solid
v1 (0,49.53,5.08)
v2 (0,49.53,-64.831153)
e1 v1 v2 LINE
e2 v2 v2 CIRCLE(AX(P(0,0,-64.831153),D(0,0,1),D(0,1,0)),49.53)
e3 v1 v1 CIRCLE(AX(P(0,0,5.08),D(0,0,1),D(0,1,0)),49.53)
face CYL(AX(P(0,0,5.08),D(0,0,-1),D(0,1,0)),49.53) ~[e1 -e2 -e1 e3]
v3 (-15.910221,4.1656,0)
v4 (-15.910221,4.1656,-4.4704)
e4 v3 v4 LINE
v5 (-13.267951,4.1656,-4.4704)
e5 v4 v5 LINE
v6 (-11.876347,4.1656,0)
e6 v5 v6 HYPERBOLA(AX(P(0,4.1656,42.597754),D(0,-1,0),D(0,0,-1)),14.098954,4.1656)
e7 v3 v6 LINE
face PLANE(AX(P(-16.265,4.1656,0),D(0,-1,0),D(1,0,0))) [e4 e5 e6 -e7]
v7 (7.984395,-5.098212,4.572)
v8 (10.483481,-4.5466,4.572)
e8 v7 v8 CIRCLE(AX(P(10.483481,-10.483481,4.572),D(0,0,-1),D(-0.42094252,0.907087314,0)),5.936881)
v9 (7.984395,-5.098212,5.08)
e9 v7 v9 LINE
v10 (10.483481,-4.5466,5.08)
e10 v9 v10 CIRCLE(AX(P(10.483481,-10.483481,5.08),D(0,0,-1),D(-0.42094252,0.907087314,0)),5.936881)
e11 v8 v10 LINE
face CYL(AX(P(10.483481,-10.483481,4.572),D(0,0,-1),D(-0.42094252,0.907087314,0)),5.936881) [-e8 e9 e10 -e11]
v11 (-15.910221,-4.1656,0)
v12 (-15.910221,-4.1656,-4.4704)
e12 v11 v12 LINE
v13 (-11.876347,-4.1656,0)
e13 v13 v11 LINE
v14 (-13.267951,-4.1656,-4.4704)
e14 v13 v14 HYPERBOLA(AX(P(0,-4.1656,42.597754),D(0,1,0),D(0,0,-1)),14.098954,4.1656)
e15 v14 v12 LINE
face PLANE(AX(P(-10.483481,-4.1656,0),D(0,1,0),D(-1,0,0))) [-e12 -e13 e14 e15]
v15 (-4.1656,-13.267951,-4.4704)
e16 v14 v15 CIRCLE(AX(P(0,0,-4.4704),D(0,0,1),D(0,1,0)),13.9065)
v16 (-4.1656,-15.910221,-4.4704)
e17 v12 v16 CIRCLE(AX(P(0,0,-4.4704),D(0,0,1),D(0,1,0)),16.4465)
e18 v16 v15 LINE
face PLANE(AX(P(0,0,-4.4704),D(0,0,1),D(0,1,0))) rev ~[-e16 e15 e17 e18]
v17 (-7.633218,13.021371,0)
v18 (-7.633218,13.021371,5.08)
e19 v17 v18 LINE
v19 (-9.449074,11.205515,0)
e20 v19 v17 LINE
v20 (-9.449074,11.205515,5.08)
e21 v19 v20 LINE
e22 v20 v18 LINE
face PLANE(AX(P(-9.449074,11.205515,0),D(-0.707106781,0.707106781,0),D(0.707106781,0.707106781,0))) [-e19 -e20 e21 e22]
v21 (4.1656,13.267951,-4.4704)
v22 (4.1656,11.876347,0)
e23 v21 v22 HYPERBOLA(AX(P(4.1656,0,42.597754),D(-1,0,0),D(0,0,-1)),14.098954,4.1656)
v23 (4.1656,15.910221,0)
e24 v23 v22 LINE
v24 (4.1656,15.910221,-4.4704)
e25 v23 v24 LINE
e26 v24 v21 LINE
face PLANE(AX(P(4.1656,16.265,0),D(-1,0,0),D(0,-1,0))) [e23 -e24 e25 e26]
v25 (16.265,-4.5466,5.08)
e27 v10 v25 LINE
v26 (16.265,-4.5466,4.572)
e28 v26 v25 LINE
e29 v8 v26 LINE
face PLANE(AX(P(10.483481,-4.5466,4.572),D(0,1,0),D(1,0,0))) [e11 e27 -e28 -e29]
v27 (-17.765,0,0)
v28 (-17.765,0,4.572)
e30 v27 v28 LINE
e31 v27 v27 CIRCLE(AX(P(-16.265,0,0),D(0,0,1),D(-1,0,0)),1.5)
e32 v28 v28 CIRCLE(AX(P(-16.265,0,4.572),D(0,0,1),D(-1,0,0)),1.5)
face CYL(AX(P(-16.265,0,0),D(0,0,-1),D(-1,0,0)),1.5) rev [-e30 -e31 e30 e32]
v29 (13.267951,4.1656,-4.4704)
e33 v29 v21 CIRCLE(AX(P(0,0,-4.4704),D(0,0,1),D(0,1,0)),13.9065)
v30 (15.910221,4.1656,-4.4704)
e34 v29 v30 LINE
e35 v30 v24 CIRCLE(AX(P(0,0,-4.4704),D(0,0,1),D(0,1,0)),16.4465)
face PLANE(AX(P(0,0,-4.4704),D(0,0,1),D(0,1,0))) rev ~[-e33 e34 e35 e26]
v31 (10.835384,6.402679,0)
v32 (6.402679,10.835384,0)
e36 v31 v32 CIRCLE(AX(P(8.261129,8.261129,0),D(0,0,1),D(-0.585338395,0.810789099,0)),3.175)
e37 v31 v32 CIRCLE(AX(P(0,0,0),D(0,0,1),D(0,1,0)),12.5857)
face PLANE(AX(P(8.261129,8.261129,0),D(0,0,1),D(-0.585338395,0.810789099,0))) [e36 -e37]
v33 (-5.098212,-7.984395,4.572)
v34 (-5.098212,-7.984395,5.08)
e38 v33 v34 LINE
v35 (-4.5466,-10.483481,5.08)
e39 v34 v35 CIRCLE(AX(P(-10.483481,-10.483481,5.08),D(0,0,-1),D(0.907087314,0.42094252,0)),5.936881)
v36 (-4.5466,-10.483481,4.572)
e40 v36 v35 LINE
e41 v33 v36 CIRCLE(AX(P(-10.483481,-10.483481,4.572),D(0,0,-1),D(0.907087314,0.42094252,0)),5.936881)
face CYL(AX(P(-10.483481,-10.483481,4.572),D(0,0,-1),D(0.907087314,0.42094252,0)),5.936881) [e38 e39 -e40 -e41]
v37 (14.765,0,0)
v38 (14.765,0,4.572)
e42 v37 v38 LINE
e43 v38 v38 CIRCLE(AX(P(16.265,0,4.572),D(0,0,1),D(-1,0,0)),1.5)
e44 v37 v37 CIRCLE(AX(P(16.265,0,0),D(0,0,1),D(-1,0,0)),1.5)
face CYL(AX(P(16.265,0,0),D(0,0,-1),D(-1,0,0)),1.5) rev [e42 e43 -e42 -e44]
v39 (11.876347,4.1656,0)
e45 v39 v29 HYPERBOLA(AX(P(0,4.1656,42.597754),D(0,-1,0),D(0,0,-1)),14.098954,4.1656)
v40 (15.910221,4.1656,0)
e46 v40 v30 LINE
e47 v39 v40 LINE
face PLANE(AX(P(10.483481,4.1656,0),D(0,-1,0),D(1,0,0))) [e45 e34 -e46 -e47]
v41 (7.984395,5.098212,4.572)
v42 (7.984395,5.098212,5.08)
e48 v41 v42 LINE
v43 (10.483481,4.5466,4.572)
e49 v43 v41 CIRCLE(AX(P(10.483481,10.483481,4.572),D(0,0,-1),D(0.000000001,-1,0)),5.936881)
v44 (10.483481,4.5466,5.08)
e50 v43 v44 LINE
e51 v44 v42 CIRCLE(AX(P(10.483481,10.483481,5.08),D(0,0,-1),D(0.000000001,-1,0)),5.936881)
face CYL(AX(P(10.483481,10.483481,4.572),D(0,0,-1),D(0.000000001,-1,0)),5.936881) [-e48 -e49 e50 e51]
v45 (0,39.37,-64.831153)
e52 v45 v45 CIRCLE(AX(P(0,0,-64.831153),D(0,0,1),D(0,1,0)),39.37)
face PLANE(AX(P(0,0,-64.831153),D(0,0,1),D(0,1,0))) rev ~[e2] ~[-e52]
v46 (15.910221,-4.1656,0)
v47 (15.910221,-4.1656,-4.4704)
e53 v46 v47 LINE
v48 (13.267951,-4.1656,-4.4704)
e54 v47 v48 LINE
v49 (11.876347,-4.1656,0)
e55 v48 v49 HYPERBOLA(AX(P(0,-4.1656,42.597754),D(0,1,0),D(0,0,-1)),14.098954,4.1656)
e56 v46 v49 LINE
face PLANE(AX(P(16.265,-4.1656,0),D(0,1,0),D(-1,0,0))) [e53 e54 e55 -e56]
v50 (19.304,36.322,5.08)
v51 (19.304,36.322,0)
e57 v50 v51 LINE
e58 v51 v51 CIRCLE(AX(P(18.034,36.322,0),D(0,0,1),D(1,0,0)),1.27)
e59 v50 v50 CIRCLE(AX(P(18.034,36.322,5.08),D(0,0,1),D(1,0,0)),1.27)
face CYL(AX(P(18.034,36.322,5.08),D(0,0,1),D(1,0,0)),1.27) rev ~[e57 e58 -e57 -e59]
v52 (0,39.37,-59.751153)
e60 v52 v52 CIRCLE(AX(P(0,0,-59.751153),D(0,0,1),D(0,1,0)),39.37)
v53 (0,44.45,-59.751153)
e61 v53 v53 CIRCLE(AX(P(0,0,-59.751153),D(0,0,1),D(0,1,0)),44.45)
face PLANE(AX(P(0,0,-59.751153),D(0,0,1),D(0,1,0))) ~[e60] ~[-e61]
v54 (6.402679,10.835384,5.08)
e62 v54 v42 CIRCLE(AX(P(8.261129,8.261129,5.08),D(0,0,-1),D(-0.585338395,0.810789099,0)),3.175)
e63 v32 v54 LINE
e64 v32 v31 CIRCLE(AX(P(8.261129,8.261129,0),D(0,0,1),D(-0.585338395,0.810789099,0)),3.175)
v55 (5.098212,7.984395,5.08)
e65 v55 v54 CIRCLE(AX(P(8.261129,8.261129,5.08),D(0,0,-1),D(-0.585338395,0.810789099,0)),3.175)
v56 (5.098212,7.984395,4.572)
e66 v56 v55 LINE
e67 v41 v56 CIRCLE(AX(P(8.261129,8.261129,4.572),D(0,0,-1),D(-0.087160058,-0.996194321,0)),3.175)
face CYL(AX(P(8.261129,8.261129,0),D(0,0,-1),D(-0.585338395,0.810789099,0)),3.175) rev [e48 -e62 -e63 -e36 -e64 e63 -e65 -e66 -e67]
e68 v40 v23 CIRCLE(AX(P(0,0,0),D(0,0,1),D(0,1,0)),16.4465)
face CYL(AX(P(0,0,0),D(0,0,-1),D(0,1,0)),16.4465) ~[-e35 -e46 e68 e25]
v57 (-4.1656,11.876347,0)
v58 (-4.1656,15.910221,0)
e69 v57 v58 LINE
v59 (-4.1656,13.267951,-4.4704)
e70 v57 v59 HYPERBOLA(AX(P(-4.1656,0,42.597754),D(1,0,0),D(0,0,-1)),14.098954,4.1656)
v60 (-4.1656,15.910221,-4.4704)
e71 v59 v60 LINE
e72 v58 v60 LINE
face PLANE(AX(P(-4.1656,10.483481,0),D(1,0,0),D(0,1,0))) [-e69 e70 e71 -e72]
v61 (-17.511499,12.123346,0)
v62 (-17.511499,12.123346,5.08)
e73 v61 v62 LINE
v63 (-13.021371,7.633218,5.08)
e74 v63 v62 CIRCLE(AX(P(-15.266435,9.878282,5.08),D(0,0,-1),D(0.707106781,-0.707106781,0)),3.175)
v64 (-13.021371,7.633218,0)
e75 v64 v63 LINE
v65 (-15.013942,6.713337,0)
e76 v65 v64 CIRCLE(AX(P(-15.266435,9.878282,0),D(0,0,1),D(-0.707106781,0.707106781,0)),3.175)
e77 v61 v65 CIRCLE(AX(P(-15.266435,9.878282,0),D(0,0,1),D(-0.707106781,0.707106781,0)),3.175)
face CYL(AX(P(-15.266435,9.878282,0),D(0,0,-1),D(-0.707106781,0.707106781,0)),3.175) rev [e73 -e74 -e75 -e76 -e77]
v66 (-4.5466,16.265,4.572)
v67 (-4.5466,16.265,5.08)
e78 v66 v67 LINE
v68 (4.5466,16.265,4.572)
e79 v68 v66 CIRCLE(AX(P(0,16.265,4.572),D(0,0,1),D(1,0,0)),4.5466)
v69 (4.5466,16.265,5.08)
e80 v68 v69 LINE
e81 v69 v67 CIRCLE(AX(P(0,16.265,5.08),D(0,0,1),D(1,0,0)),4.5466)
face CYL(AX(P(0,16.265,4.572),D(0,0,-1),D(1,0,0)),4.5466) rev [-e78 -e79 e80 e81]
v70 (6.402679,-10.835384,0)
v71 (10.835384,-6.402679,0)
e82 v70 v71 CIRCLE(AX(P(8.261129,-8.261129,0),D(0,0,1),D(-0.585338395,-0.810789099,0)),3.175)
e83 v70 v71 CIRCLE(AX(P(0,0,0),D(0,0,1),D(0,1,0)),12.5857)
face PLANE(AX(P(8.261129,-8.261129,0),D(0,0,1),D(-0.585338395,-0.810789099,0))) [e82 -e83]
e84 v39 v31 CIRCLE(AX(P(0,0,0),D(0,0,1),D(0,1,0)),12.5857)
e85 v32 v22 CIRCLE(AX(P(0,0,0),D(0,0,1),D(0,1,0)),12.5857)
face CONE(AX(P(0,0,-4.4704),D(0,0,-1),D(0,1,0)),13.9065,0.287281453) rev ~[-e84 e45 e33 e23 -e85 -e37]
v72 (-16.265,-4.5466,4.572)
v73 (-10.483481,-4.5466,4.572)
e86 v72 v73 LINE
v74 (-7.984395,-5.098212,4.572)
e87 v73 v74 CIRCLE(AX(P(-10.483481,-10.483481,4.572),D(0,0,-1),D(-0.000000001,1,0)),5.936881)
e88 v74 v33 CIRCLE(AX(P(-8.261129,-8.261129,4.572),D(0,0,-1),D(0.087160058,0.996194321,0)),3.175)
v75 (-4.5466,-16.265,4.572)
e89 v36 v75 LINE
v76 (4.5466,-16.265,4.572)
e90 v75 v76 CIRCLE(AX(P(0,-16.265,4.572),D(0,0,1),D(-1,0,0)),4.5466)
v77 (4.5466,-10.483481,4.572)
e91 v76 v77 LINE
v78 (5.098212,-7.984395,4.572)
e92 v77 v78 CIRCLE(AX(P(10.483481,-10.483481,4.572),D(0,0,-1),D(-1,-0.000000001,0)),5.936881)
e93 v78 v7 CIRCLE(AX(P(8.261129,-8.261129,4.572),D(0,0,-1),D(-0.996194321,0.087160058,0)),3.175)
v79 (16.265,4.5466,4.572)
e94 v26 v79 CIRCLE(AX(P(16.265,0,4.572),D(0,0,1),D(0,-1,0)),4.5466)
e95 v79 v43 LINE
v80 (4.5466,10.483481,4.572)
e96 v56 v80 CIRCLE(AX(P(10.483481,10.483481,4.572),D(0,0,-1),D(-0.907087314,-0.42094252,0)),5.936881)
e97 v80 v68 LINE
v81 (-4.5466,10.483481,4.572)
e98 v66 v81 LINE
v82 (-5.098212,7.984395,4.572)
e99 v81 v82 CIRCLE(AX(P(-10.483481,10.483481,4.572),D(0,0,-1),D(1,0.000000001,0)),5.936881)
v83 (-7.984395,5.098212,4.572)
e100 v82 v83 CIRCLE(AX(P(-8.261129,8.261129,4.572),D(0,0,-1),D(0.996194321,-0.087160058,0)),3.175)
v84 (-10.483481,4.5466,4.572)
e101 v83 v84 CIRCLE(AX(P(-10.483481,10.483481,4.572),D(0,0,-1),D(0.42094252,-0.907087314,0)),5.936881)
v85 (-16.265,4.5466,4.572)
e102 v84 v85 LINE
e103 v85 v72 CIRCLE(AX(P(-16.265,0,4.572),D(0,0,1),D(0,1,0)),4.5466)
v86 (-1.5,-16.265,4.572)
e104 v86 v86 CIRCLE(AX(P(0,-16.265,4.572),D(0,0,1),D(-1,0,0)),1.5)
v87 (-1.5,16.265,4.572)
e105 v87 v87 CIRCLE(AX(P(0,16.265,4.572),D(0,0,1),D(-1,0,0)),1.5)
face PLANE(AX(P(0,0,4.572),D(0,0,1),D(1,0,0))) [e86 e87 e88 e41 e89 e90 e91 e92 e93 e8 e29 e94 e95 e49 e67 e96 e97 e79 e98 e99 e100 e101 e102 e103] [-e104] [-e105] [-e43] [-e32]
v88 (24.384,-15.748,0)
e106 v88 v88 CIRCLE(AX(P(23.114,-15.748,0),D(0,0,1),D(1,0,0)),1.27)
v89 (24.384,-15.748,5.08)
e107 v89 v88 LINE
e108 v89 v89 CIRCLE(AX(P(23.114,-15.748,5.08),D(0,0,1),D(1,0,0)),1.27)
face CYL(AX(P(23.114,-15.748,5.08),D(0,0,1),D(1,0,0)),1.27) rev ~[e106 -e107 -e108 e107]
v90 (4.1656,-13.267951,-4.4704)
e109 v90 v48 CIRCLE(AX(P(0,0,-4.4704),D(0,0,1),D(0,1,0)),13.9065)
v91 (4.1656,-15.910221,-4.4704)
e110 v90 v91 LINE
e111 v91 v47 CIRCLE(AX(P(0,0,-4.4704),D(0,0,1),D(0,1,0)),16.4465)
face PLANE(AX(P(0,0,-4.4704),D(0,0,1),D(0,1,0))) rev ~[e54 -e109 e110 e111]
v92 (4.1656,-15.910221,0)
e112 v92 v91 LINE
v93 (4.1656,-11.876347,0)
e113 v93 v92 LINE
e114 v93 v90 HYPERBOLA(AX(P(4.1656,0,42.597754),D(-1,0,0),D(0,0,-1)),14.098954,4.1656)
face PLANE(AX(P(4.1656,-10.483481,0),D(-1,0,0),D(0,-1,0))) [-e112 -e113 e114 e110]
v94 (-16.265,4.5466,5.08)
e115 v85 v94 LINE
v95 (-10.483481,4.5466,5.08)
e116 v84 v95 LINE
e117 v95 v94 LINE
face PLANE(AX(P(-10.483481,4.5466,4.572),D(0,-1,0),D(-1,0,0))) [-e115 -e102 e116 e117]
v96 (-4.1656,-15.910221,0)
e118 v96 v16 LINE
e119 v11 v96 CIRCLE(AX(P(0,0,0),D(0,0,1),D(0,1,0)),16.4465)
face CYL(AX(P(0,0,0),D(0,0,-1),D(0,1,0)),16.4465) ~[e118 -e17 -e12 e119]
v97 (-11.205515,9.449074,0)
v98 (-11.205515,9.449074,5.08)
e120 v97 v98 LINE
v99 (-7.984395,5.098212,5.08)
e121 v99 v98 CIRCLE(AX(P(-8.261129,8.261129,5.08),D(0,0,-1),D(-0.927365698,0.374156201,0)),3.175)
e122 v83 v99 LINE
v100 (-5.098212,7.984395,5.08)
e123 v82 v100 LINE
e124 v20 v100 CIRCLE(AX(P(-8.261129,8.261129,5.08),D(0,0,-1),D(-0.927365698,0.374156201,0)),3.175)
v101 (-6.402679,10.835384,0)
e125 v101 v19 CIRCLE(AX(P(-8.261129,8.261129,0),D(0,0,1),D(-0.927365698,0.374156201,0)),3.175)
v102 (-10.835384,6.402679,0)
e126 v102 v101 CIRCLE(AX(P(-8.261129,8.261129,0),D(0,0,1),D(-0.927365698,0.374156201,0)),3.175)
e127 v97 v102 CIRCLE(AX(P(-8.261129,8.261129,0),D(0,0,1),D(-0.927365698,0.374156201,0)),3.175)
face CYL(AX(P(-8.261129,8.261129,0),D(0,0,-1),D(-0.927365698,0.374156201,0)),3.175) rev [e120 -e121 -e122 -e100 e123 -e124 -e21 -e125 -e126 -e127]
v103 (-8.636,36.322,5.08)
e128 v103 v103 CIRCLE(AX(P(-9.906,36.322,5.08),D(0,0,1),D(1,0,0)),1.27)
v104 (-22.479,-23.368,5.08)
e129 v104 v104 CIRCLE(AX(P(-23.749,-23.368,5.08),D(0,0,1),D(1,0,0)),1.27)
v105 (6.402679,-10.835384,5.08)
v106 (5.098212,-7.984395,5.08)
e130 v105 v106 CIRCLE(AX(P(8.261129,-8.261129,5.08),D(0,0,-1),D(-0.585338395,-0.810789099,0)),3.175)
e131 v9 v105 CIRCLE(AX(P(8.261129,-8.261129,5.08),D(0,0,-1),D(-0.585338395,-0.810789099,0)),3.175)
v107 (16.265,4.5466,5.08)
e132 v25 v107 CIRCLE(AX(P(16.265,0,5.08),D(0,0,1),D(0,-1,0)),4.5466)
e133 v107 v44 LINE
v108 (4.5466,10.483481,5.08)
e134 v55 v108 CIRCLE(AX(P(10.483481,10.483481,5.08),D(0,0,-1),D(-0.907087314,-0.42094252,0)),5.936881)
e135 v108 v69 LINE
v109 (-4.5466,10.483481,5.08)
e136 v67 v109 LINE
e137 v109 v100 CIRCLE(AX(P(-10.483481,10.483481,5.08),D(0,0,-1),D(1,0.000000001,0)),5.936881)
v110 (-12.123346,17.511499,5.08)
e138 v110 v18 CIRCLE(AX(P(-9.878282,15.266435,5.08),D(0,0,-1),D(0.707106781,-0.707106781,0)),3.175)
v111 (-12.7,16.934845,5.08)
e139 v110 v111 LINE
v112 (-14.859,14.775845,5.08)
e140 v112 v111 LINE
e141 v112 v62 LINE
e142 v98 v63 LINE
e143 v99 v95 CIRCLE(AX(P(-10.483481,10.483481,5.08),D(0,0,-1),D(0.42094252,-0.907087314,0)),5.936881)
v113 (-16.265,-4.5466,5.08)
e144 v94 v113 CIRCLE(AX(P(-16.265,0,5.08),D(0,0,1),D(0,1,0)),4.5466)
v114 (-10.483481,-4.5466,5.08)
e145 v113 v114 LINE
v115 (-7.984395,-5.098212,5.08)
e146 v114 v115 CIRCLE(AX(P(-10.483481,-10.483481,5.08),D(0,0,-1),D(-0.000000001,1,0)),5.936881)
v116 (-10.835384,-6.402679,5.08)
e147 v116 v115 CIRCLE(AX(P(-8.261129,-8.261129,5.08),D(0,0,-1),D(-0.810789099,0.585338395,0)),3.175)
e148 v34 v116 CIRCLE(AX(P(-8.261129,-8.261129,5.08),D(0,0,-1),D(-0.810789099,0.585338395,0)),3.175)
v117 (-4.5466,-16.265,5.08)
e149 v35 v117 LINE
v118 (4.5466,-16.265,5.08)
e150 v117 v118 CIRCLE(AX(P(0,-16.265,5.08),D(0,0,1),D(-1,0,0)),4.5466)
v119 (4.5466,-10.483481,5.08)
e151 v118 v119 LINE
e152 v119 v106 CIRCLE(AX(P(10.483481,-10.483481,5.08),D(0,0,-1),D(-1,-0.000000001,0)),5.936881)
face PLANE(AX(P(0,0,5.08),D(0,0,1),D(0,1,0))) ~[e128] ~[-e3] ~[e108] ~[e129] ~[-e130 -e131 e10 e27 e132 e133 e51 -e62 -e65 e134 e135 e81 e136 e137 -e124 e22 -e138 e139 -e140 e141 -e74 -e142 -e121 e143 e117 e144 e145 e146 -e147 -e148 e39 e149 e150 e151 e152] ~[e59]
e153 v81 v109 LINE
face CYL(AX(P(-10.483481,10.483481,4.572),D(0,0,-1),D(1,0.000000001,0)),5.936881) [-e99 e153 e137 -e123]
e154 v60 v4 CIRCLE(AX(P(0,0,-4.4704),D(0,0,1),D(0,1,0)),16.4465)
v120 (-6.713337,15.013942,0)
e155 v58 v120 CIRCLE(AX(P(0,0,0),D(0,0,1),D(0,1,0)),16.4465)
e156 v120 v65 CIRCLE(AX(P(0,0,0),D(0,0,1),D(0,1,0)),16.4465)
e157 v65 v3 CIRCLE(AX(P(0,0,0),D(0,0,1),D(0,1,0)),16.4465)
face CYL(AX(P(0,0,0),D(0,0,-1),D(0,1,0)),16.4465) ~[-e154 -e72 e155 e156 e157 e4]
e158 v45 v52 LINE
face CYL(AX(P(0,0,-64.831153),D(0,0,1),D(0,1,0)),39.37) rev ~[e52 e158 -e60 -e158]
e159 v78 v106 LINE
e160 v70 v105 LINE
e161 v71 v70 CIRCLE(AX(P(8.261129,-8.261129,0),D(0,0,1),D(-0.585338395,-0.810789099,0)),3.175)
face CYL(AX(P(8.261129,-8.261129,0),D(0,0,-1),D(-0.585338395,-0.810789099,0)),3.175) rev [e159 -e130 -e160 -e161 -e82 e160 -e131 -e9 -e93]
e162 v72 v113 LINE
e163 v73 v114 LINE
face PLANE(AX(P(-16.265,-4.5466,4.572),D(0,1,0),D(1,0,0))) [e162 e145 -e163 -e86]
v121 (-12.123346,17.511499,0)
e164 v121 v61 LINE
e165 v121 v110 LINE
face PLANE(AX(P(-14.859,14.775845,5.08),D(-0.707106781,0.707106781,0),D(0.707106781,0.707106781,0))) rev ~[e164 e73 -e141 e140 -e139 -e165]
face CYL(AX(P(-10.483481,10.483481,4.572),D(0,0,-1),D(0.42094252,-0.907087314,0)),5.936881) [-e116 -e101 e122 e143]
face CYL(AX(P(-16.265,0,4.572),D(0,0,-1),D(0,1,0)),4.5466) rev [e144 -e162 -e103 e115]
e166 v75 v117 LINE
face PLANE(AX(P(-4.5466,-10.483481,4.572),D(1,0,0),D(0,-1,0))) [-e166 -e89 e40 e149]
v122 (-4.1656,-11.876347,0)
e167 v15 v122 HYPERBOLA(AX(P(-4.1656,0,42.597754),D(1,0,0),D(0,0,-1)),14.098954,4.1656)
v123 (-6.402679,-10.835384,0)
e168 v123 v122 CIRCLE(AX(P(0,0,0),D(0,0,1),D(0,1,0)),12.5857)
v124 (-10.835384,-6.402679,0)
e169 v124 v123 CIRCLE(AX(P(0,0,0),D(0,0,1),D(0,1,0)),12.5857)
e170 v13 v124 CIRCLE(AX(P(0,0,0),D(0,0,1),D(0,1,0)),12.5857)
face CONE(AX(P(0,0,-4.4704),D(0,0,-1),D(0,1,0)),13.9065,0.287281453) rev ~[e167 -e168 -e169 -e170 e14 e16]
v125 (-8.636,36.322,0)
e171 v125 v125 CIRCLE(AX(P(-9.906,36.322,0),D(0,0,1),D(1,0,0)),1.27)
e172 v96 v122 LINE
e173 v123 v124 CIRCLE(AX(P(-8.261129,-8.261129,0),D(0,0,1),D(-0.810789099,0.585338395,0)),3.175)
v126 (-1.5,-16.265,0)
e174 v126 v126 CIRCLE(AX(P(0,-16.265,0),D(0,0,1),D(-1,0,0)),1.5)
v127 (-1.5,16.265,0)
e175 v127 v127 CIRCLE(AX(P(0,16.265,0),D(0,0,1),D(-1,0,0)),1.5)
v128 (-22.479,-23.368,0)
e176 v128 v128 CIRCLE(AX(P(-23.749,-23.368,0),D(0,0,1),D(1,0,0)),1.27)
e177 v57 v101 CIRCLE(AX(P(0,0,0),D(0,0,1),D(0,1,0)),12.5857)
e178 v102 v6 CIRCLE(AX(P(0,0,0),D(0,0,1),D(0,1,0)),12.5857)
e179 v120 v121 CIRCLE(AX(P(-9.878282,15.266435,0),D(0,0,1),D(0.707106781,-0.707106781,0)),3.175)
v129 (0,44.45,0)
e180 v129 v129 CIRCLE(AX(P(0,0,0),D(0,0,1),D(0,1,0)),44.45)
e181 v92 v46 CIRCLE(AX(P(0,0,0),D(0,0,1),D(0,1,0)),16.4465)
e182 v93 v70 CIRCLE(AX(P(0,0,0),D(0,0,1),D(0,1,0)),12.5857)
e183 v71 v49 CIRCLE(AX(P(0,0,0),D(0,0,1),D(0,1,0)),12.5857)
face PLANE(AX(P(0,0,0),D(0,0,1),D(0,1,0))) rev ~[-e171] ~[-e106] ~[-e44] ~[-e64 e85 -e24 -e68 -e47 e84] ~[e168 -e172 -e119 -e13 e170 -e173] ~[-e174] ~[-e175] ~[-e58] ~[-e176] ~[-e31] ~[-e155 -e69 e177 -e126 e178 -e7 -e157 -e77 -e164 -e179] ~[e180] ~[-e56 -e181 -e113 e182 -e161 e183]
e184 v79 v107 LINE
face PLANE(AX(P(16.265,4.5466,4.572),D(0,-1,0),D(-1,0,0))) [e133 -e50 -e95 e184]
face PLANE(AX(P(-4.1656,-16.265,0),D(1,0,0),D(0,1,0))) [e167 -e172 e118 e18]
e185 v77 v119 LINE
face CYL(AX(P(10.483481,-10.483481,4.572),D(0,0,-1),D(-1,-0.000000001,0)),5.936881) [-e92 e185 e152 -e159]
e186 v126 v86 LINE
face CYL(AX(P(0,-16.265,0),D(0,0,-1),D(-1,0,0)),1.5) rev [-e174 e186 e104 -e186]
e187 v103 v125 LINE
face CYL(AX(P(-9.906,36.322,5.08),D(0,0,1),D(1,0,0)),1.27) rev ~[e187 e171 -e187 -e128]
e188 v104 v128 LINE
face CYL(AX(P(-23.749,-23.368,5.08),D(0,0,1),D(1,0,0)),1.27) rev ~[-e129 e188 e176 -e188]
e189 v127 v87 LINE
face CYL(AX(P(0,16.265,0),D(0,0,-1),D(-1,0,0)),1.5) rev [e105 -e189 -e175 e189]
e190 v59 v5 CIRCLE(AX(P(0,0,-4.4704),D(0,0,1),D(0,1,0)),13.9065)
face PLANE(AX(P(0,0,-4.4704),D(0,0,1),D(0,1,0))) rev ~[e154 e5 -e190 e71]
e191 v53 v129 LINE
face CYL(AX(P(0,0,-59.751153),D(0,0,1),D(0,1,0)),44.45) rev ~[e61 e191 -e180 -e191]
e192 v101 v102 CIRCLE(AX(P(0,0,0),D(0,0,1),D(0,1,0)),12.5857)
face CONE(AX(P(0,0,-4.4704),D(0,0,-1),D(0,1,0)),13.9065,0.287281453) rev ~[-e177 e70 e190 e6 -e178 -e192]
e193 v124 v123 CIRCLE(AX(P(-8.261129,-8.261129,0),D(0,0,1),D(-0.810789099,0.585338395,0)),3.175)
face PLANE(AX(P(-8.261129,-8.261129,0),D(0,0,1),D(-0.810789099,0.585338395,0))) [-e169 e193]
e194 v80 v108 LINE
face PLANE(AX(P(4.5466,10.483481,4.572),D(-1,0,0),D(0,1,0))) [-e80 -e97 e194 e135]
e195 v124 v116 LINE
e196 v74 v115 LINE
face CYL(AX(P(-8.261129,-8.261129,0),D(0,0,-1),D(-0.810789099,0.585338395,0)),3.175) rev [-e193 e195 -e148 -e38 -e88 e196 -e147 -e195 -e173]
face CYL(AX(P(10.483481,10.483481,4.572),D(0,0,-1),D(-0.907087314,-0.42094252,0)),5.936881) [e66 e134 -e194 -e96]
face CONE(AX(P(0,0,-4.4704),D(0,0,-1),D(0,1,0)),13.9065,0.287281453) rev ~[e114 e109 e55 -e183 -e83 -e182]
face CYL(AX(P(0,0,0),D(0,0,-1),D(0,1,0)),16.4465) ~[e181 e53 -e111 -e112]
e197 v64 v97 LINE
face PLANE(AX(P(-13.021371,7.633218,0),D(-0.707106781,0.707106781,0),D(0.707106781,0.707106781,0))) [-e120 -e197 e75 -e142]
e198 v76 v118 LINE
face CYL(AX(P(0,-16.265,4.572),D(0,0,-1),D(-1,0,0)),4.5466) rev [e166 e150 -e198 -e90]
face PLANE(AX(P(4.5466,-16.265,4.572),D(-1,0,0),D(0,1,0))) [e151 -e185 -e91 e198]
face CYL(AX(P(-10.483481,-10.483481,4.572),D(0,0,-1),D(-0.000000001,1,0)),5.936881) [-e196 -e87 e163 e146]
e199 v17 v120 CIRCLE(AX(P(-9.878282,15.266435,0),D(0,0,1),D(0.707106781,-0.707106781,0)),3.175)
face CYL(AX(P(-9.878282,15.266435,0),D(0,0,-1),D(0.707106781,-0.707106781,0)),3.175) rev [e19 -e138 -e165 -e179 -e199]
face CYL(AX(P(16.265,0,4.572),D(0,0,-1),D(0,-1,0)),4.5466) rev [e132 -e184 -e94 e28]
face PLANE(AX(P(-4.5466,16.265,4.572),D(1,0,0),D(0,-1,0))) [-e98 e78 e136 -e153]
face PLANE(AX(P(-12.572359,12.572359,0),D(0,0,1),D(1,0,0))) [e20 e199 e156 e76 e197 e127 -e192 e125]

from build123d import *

# Parameters (mm, degrees)
X_WING_DEPTH       = 12.7
SKETCH4_3_R        = 1.5
SKETCH4_3_R_2      = 3.175
HOLES_DEPTH        = 9.525
CHIP_DEPTH         = 6.35
EXTRUDE_9V_DEPTH   = 15.24
SKETCH6_3_R        = 1.27
AIR_HOLES_DEPTH    = 9.525
SKETCH7_W          = 7.542953633
SKETCH7_H          = 7.880697826
SKETCH7_H_2        = 6.417139658
SKETCH7_W_2        = 5.741651273
SKETCH7_H_3        = 8.218442018
AIR_SLOTS_DEPTH    = 1.27
CUT_EXTRUDE1_START = 4.572
SKETCH4_5_R        = 1.5
CUT_EXTRUDE1_DEPTH = 0.508


with BuildPart() as part:
    # Sketch2 → Body (revolve)
    with BuildSketch(Plane(origin=(0, 0, 0), x_dir=(0, 0, -1), z_dir=(1, 0, 0))):
        Polygon((4.4704, 13.9065), (0, 12.5857), (0, 0), (-5.08, 0), (-5.08, 49.53), (64.831152593, 49.53), (64.831152593, 39.37), (59.751152593, 39.37), (59.751152593, 44.45), (0, 44.45), (0, 16.4465), (4.4704, 16.4465), align=None)
    revolve(axis=Axis((0, 0, 0), (0, 0, 1)))

    # Sketch4 → X-Wing (cut)
    with BuildSketch(Plane.XY):
        with BuildLine():
            Line((-4.1656, -12.04250002), (-4.1656, -10.483480973))
            ThreePointArc((-4.1656, -10.483480973), (-6.016064494, -6.016064494), (-10.483480973, -4.1656))
            Line((-10.483480973, -4.1656), (-16.265, -4.1656))
            ThreePointArc((-16.265, -4.1656), (-20.4306, 0), (-16.265, 4.1656))
            Line((-16.265, 4.1656), (-12.04250002, 4.1656))
            Line((-12.04250002, 4.1656), (-10.483480973, 4.1656))
            ThreePointArc((-10.483480973, 4.1656), (-6.016064494, 6.016064494), (-4.1656, 10.483480973))
            Line((-4.1656, 10.483480973), (-4.1656, 12.04250002))
            Line((-4.1656, 12.04250002), (-4.1656, 16.265))
            ThreePointArc((-4.1656, 16.265), (0, 20.4306), (4.1656, 16.265))
            Line((4.1656, 16.265), (4.1656, 12.04250002))
            Line((4.1656, 12.04250002), (4.1656, 10.483480973))
            ThreePointArc((4.1656, 10.483480973), (6.016064494, 6.016064494), (10.483480973, 4.1656))
            Line((10.483480973, 4.1656), (12.04250002, 4.1656))
            Line((12.04250002, 4.1656), (16.265, 4.1656))
            ThreePointArc((16.265, 4.1656), (20.4306, 0), (16.265, -4.1656))
            Line((16.265, -4.1656), (12.04250002, -4.1656))
            Line((12.04250002, -4.1656), (10.483480973, -4.1656))
            ThreePointArc((10.483480973, -4.1656), (6.016064494, -6.016064494), (4.1656, -10.483480973))
            Line((4.1656, -10.483480973), (4.1656, -12.04250002))
            Line((4.1656, -12.04250002), (4.1656, -16.265))
            ThreePointArc((4.1656, -16.265), (0, -20.4306), (-4.1656, -16.265))
            Line((-4.1656, -16.265), (-4.1656, -12.04250002))
        make_face()
    extrude(amount=-X_WING_DEPTH, mode=Mode.SUBTRACT)

    # Sketch4<3> → Holes (cut)
    with BuildSketch(Plane.XY):
        with Locations(Location((0, -16.265, 0), (0, 0, 180))):
            Circle(SKETCH4_3_R)
        with Locations(Location((-16.265, 0, 0), (0, 0, 180))):
            Circle(SKETCH4_3_R)
        with Locations(Location((16.265, 0, 0), (0, 0, 180))):
            Circle(SKETCH4_3_R)
        with Locations(Location((0, 16.265, 0), (0, 0, 180))):
            Circle(SKETCH4_3_R)
        with BuildLine():
            ThreePointArc((-7.633217703, 13.021371376), (-7.633217703, 17.511499436), (-12.123345763, 17.511499436))
            Line((-12.123345763, 17.511499436), (-17.511499436, 12.123345763))
            ThreePointArc((-17.511499436, 12.123345763), (-17.511499436, 7.633217703), (-13.021371376, 7.633217703))
            Line((-13.021371376, 7.633217703), (-7.633217703, 13.021371376))
        make_face()
        with Locations((-8.261128525, 8.261128525)):
            Circle(SKETCH4_3_R_2)
        with Locations(Location((8.261128525, 8.261128525, 0), (0, 0, 125.826899667))):
            Circle(SKETCH4_3_R_2)
        with Locations(Location((8.261128525, -8.261128525, 0), (0, 0, 234.173100333))):
            Circle(SKETCH4_3_R_2)
        with Locations(Location((-8.261128525, -8.261128525, 0), (0, 0, 144.173100333))):
            Circle(SKETCH4_3_R_2)
    extrude(amount=HOLES_DEPTH, mode=Mode.SUBTRACT)

    # Sketch6 → Chip (add)
    with BuildSketch(Plane.XY.offset(5.08)):
        Polygon((11.350015507, 22.225), (-11.715690517, 22.225), (-12.954, 22.225), (-12.954, 16.6808452), (-12.7, 16.9348452), (-12.7, 20.32), (12.7, 20.32), (12.7, -20.32), (-12.7, -20.32), (-12.7, 7.954589078), (-12.954, 7.700589078), (-12.954, -22.225), (12.954, -22.225), (12.954, 22.225), align=None)
    extrude(amount=CHIP_DEPTH)

    # Sketch6<4> → Extrude 9V (add)
    with BuildSketch(Plane.XY.offset(5.08)):
        Polygon((-14.859, 14.7758452), (-12.954, 16.6808452), (-12.954, 22.225), (-11.715690517, 22.225), (-11.715690517, 23.479848526), (-14.859, 23.479848526), align=None)
        with BuildLine():
            ThreePointArc((-13.021371376, 7.633217703), (-13.865328691, 7.029154679), (-14.859, 6.729532555))
            Line((-14.859, 6.729532555), (-14.859, 0.522650935))
            ThreePointArc((-14.859, 0.522650935), (-14.765, 0), (-14.859, -0.522650935))
            Line((-14.859, -0.522650935), (-14.859, -24.638))
            Line((-14.859, -24.638), (14.859, -24.638))
            Line((14.859, -24.638), (14.859, -0.522650935))
            ThreePointArc((14.859, -0.522650935), (14.765, 0), (14.859, 0.522650935))
            Line((14.859, 0.522650935), (14.859, 29.972))
            Line((14.859, 29.972), (-14.859, 29.972))
            Line((-14.859, 29.972), (-14.859, 28.067))
            Line((-14.859, 28.067), (12.954, 28.067))
            Line((12.954, 28.067), (12.954, 23.734213344))
            Line((12.954, 23.734213344), (11.350015507, 23.734213344))
            Line((11.350015507, 23.734213344), (11.350015507, 22.225))
            Line((11.350015507, 22.225), (12.954, 22.225))
            Line((12.954, 22.225), (12.954, -22.733))
            Line((12.954, -22.733), (-12.954, -22.733))
            Line((-12.954, -22.733), (-12.954, 7.700589078))
            Line((-12.954, 7.700589078), (-13.021371376, 7.633217703))
        make_face()
    extrude(amount=EXTRUDE_9V_DEPTH)

    # Sketch6<3> → Air holes (cut)
    with BuildSketch(Plane.XY.offset(5.08)):
        with Locations((-23.749, -23.368)):
            Circle(SKETCH6_3_R)
        with Locations((23.114, -15.748)):
            Circle(SKETCH6_3_R)
        with Locations((-9.906, 36.322)):
            Circle(SKETCH6_3_R)
        with Locations((18.034, 36.322)):
            Circle(SKETCH6_3_R)
    extrude(amount=-AIR_HOLES_DEPTH, mode=Mode.SUBTRACT)

    # Sketch7 → Air Slots (cut)
    with BuildSketch(Plane.XY.offset(5.08)):
        with Locations((15.537525525, 8.731732869)):
            Rectangle(SKETCH7_W, SKETCH7_H)
        with Locations((15.537525525, -8.324348854)):
            Rectangle(SKETCH7_W, SKETCH7_H_2)
        with Locations((-14.859451804, -9.225000034)):
            Rectangle(SKETCH7_W_2, SKETCH7_H_3)
    extrude(amount=AIR_SLOTS_DEPTH, mode=Mode.SUBTRACT)

    # SurfaceCut1
    split(bisect_by=Plane.XY.offset(5.08), keep=Keep.BOTTOM)

    # Sketch4<5> → Cut-Extrude1 (cut)
    with BuildSketch(Plane.XY.offset(CUT_EXTRUDE1_START)):
        with BuildLine():
            ThreePointArc((5.098211557, -7.98439534), (6.016064494, -6.016064494), (7.98439534, -5.098211557))
            ThreePointArc((7.98439534, -5.098211557), (9.203861468, -4.686142824), (10.483480973, -4.5466))
            Line((10.483480973, -4.5466), (16.265, -4.5466))
            ThreePointArc((16.265, -4.5466), (20.8116, 0), (16.265, 4.5466))
            Line((16.265, 4.5466), (10.483480973, 4.5466))
            ThreePointArc((10.483480973, 4.5466), (9.203861468, 4.686142824), (7.98439534, 5.098211557))
            ThreePointArc((7.98439534, 5.098211557), (6.016064494, 6.016064494), (5.098211557, 7.98439534))
            ThreePointArc((5.098211557, 7.98439534), (4.686142824, 9.203861468), (4.5466, 10.483480973))
            Line((4.5466, 10.483480973), (4.5466, 16.265))
            ThreePointArc((4.5466, 16.265), (0, 20.8116), (-4.5466, 16.265))
            Line((-4.5466, 16.265), (-4.5466, 10.483480973))
            ThreePointArc((-4.5466, 10.483480973), (-4.686142824, 9.203861468), (-5.098211557, 7.98439534))
            ThreePointArc((-5.098211557, 7.98439534), (-6.016064494, 6.016064494), (-7.98439534, 5.098211557))
            ThreePointArc((-7.98439534, 5.098211557), (-9.203861468, 4.686142824), (-10.483480973, 4.5466))
            Line((-10.483480973, 4.5466), (-16.265, 4.5466))
            ThreePointArc((-16.265, 4.5466), (-20.8116, 0), (-16.265, -4.5466))
            Line((-16.265, -4.5466), (-10.483480973, -4.5466))
            ThreePointArc((-10.483480973, -4.5466), (-9.203861468, -4.686142824), (-7.98439534, -5.098211557))
            ThreePointArc((-7.98439534, -5.098211557), (-6.016064494, -6.016064494), (-5.098211557, -7.98439534))
            ThreePointArc((-5.098211557, -7.98439534), (-4.686142824, -9.203861468), (-4.5466, -10.483480973))
            Line((-4.5466, -10.483480973), (-4.5466, -16.265))
            ThreePointArc((-4.5466, -16.265), (0, -20.8116), (4.5466, -16.265))
            Line((4.5466, -16.265), (4.5466, -10.483480973))
            ThreePointArc((4.5466, -10.483480973), (4.686142824, -9.203861468), (5.098211557, -7.98439534))
        make_face()
        with Locations(Location((0, -16.265, 0), (0, 0, 180))):
            Circle(SKETCH4_5_R, mode=Mode.SUBTRACT)
        with Locations(Location((16.265, 0, 0), (0, 0, 180))):
            Circle(SKETCH4_5_R, mode=Mode.SUBTRACT)
        with Locations(Location((-16.265, 0, 0), (0, 0, 180))):
            Circle(SKETCH4_5_R, mode=Mode.SUBTRACT)
        with Locations(Location((0, 16.265, 0), (0, 0, 180))):
            Circle(SKETCH4_5_R, mode=Mode.SUBTRACT)
    extrude(amount=CUT_EXTRUDE1_DEPTH, mode=Mode.SUBTRACT)


solid = part.part
